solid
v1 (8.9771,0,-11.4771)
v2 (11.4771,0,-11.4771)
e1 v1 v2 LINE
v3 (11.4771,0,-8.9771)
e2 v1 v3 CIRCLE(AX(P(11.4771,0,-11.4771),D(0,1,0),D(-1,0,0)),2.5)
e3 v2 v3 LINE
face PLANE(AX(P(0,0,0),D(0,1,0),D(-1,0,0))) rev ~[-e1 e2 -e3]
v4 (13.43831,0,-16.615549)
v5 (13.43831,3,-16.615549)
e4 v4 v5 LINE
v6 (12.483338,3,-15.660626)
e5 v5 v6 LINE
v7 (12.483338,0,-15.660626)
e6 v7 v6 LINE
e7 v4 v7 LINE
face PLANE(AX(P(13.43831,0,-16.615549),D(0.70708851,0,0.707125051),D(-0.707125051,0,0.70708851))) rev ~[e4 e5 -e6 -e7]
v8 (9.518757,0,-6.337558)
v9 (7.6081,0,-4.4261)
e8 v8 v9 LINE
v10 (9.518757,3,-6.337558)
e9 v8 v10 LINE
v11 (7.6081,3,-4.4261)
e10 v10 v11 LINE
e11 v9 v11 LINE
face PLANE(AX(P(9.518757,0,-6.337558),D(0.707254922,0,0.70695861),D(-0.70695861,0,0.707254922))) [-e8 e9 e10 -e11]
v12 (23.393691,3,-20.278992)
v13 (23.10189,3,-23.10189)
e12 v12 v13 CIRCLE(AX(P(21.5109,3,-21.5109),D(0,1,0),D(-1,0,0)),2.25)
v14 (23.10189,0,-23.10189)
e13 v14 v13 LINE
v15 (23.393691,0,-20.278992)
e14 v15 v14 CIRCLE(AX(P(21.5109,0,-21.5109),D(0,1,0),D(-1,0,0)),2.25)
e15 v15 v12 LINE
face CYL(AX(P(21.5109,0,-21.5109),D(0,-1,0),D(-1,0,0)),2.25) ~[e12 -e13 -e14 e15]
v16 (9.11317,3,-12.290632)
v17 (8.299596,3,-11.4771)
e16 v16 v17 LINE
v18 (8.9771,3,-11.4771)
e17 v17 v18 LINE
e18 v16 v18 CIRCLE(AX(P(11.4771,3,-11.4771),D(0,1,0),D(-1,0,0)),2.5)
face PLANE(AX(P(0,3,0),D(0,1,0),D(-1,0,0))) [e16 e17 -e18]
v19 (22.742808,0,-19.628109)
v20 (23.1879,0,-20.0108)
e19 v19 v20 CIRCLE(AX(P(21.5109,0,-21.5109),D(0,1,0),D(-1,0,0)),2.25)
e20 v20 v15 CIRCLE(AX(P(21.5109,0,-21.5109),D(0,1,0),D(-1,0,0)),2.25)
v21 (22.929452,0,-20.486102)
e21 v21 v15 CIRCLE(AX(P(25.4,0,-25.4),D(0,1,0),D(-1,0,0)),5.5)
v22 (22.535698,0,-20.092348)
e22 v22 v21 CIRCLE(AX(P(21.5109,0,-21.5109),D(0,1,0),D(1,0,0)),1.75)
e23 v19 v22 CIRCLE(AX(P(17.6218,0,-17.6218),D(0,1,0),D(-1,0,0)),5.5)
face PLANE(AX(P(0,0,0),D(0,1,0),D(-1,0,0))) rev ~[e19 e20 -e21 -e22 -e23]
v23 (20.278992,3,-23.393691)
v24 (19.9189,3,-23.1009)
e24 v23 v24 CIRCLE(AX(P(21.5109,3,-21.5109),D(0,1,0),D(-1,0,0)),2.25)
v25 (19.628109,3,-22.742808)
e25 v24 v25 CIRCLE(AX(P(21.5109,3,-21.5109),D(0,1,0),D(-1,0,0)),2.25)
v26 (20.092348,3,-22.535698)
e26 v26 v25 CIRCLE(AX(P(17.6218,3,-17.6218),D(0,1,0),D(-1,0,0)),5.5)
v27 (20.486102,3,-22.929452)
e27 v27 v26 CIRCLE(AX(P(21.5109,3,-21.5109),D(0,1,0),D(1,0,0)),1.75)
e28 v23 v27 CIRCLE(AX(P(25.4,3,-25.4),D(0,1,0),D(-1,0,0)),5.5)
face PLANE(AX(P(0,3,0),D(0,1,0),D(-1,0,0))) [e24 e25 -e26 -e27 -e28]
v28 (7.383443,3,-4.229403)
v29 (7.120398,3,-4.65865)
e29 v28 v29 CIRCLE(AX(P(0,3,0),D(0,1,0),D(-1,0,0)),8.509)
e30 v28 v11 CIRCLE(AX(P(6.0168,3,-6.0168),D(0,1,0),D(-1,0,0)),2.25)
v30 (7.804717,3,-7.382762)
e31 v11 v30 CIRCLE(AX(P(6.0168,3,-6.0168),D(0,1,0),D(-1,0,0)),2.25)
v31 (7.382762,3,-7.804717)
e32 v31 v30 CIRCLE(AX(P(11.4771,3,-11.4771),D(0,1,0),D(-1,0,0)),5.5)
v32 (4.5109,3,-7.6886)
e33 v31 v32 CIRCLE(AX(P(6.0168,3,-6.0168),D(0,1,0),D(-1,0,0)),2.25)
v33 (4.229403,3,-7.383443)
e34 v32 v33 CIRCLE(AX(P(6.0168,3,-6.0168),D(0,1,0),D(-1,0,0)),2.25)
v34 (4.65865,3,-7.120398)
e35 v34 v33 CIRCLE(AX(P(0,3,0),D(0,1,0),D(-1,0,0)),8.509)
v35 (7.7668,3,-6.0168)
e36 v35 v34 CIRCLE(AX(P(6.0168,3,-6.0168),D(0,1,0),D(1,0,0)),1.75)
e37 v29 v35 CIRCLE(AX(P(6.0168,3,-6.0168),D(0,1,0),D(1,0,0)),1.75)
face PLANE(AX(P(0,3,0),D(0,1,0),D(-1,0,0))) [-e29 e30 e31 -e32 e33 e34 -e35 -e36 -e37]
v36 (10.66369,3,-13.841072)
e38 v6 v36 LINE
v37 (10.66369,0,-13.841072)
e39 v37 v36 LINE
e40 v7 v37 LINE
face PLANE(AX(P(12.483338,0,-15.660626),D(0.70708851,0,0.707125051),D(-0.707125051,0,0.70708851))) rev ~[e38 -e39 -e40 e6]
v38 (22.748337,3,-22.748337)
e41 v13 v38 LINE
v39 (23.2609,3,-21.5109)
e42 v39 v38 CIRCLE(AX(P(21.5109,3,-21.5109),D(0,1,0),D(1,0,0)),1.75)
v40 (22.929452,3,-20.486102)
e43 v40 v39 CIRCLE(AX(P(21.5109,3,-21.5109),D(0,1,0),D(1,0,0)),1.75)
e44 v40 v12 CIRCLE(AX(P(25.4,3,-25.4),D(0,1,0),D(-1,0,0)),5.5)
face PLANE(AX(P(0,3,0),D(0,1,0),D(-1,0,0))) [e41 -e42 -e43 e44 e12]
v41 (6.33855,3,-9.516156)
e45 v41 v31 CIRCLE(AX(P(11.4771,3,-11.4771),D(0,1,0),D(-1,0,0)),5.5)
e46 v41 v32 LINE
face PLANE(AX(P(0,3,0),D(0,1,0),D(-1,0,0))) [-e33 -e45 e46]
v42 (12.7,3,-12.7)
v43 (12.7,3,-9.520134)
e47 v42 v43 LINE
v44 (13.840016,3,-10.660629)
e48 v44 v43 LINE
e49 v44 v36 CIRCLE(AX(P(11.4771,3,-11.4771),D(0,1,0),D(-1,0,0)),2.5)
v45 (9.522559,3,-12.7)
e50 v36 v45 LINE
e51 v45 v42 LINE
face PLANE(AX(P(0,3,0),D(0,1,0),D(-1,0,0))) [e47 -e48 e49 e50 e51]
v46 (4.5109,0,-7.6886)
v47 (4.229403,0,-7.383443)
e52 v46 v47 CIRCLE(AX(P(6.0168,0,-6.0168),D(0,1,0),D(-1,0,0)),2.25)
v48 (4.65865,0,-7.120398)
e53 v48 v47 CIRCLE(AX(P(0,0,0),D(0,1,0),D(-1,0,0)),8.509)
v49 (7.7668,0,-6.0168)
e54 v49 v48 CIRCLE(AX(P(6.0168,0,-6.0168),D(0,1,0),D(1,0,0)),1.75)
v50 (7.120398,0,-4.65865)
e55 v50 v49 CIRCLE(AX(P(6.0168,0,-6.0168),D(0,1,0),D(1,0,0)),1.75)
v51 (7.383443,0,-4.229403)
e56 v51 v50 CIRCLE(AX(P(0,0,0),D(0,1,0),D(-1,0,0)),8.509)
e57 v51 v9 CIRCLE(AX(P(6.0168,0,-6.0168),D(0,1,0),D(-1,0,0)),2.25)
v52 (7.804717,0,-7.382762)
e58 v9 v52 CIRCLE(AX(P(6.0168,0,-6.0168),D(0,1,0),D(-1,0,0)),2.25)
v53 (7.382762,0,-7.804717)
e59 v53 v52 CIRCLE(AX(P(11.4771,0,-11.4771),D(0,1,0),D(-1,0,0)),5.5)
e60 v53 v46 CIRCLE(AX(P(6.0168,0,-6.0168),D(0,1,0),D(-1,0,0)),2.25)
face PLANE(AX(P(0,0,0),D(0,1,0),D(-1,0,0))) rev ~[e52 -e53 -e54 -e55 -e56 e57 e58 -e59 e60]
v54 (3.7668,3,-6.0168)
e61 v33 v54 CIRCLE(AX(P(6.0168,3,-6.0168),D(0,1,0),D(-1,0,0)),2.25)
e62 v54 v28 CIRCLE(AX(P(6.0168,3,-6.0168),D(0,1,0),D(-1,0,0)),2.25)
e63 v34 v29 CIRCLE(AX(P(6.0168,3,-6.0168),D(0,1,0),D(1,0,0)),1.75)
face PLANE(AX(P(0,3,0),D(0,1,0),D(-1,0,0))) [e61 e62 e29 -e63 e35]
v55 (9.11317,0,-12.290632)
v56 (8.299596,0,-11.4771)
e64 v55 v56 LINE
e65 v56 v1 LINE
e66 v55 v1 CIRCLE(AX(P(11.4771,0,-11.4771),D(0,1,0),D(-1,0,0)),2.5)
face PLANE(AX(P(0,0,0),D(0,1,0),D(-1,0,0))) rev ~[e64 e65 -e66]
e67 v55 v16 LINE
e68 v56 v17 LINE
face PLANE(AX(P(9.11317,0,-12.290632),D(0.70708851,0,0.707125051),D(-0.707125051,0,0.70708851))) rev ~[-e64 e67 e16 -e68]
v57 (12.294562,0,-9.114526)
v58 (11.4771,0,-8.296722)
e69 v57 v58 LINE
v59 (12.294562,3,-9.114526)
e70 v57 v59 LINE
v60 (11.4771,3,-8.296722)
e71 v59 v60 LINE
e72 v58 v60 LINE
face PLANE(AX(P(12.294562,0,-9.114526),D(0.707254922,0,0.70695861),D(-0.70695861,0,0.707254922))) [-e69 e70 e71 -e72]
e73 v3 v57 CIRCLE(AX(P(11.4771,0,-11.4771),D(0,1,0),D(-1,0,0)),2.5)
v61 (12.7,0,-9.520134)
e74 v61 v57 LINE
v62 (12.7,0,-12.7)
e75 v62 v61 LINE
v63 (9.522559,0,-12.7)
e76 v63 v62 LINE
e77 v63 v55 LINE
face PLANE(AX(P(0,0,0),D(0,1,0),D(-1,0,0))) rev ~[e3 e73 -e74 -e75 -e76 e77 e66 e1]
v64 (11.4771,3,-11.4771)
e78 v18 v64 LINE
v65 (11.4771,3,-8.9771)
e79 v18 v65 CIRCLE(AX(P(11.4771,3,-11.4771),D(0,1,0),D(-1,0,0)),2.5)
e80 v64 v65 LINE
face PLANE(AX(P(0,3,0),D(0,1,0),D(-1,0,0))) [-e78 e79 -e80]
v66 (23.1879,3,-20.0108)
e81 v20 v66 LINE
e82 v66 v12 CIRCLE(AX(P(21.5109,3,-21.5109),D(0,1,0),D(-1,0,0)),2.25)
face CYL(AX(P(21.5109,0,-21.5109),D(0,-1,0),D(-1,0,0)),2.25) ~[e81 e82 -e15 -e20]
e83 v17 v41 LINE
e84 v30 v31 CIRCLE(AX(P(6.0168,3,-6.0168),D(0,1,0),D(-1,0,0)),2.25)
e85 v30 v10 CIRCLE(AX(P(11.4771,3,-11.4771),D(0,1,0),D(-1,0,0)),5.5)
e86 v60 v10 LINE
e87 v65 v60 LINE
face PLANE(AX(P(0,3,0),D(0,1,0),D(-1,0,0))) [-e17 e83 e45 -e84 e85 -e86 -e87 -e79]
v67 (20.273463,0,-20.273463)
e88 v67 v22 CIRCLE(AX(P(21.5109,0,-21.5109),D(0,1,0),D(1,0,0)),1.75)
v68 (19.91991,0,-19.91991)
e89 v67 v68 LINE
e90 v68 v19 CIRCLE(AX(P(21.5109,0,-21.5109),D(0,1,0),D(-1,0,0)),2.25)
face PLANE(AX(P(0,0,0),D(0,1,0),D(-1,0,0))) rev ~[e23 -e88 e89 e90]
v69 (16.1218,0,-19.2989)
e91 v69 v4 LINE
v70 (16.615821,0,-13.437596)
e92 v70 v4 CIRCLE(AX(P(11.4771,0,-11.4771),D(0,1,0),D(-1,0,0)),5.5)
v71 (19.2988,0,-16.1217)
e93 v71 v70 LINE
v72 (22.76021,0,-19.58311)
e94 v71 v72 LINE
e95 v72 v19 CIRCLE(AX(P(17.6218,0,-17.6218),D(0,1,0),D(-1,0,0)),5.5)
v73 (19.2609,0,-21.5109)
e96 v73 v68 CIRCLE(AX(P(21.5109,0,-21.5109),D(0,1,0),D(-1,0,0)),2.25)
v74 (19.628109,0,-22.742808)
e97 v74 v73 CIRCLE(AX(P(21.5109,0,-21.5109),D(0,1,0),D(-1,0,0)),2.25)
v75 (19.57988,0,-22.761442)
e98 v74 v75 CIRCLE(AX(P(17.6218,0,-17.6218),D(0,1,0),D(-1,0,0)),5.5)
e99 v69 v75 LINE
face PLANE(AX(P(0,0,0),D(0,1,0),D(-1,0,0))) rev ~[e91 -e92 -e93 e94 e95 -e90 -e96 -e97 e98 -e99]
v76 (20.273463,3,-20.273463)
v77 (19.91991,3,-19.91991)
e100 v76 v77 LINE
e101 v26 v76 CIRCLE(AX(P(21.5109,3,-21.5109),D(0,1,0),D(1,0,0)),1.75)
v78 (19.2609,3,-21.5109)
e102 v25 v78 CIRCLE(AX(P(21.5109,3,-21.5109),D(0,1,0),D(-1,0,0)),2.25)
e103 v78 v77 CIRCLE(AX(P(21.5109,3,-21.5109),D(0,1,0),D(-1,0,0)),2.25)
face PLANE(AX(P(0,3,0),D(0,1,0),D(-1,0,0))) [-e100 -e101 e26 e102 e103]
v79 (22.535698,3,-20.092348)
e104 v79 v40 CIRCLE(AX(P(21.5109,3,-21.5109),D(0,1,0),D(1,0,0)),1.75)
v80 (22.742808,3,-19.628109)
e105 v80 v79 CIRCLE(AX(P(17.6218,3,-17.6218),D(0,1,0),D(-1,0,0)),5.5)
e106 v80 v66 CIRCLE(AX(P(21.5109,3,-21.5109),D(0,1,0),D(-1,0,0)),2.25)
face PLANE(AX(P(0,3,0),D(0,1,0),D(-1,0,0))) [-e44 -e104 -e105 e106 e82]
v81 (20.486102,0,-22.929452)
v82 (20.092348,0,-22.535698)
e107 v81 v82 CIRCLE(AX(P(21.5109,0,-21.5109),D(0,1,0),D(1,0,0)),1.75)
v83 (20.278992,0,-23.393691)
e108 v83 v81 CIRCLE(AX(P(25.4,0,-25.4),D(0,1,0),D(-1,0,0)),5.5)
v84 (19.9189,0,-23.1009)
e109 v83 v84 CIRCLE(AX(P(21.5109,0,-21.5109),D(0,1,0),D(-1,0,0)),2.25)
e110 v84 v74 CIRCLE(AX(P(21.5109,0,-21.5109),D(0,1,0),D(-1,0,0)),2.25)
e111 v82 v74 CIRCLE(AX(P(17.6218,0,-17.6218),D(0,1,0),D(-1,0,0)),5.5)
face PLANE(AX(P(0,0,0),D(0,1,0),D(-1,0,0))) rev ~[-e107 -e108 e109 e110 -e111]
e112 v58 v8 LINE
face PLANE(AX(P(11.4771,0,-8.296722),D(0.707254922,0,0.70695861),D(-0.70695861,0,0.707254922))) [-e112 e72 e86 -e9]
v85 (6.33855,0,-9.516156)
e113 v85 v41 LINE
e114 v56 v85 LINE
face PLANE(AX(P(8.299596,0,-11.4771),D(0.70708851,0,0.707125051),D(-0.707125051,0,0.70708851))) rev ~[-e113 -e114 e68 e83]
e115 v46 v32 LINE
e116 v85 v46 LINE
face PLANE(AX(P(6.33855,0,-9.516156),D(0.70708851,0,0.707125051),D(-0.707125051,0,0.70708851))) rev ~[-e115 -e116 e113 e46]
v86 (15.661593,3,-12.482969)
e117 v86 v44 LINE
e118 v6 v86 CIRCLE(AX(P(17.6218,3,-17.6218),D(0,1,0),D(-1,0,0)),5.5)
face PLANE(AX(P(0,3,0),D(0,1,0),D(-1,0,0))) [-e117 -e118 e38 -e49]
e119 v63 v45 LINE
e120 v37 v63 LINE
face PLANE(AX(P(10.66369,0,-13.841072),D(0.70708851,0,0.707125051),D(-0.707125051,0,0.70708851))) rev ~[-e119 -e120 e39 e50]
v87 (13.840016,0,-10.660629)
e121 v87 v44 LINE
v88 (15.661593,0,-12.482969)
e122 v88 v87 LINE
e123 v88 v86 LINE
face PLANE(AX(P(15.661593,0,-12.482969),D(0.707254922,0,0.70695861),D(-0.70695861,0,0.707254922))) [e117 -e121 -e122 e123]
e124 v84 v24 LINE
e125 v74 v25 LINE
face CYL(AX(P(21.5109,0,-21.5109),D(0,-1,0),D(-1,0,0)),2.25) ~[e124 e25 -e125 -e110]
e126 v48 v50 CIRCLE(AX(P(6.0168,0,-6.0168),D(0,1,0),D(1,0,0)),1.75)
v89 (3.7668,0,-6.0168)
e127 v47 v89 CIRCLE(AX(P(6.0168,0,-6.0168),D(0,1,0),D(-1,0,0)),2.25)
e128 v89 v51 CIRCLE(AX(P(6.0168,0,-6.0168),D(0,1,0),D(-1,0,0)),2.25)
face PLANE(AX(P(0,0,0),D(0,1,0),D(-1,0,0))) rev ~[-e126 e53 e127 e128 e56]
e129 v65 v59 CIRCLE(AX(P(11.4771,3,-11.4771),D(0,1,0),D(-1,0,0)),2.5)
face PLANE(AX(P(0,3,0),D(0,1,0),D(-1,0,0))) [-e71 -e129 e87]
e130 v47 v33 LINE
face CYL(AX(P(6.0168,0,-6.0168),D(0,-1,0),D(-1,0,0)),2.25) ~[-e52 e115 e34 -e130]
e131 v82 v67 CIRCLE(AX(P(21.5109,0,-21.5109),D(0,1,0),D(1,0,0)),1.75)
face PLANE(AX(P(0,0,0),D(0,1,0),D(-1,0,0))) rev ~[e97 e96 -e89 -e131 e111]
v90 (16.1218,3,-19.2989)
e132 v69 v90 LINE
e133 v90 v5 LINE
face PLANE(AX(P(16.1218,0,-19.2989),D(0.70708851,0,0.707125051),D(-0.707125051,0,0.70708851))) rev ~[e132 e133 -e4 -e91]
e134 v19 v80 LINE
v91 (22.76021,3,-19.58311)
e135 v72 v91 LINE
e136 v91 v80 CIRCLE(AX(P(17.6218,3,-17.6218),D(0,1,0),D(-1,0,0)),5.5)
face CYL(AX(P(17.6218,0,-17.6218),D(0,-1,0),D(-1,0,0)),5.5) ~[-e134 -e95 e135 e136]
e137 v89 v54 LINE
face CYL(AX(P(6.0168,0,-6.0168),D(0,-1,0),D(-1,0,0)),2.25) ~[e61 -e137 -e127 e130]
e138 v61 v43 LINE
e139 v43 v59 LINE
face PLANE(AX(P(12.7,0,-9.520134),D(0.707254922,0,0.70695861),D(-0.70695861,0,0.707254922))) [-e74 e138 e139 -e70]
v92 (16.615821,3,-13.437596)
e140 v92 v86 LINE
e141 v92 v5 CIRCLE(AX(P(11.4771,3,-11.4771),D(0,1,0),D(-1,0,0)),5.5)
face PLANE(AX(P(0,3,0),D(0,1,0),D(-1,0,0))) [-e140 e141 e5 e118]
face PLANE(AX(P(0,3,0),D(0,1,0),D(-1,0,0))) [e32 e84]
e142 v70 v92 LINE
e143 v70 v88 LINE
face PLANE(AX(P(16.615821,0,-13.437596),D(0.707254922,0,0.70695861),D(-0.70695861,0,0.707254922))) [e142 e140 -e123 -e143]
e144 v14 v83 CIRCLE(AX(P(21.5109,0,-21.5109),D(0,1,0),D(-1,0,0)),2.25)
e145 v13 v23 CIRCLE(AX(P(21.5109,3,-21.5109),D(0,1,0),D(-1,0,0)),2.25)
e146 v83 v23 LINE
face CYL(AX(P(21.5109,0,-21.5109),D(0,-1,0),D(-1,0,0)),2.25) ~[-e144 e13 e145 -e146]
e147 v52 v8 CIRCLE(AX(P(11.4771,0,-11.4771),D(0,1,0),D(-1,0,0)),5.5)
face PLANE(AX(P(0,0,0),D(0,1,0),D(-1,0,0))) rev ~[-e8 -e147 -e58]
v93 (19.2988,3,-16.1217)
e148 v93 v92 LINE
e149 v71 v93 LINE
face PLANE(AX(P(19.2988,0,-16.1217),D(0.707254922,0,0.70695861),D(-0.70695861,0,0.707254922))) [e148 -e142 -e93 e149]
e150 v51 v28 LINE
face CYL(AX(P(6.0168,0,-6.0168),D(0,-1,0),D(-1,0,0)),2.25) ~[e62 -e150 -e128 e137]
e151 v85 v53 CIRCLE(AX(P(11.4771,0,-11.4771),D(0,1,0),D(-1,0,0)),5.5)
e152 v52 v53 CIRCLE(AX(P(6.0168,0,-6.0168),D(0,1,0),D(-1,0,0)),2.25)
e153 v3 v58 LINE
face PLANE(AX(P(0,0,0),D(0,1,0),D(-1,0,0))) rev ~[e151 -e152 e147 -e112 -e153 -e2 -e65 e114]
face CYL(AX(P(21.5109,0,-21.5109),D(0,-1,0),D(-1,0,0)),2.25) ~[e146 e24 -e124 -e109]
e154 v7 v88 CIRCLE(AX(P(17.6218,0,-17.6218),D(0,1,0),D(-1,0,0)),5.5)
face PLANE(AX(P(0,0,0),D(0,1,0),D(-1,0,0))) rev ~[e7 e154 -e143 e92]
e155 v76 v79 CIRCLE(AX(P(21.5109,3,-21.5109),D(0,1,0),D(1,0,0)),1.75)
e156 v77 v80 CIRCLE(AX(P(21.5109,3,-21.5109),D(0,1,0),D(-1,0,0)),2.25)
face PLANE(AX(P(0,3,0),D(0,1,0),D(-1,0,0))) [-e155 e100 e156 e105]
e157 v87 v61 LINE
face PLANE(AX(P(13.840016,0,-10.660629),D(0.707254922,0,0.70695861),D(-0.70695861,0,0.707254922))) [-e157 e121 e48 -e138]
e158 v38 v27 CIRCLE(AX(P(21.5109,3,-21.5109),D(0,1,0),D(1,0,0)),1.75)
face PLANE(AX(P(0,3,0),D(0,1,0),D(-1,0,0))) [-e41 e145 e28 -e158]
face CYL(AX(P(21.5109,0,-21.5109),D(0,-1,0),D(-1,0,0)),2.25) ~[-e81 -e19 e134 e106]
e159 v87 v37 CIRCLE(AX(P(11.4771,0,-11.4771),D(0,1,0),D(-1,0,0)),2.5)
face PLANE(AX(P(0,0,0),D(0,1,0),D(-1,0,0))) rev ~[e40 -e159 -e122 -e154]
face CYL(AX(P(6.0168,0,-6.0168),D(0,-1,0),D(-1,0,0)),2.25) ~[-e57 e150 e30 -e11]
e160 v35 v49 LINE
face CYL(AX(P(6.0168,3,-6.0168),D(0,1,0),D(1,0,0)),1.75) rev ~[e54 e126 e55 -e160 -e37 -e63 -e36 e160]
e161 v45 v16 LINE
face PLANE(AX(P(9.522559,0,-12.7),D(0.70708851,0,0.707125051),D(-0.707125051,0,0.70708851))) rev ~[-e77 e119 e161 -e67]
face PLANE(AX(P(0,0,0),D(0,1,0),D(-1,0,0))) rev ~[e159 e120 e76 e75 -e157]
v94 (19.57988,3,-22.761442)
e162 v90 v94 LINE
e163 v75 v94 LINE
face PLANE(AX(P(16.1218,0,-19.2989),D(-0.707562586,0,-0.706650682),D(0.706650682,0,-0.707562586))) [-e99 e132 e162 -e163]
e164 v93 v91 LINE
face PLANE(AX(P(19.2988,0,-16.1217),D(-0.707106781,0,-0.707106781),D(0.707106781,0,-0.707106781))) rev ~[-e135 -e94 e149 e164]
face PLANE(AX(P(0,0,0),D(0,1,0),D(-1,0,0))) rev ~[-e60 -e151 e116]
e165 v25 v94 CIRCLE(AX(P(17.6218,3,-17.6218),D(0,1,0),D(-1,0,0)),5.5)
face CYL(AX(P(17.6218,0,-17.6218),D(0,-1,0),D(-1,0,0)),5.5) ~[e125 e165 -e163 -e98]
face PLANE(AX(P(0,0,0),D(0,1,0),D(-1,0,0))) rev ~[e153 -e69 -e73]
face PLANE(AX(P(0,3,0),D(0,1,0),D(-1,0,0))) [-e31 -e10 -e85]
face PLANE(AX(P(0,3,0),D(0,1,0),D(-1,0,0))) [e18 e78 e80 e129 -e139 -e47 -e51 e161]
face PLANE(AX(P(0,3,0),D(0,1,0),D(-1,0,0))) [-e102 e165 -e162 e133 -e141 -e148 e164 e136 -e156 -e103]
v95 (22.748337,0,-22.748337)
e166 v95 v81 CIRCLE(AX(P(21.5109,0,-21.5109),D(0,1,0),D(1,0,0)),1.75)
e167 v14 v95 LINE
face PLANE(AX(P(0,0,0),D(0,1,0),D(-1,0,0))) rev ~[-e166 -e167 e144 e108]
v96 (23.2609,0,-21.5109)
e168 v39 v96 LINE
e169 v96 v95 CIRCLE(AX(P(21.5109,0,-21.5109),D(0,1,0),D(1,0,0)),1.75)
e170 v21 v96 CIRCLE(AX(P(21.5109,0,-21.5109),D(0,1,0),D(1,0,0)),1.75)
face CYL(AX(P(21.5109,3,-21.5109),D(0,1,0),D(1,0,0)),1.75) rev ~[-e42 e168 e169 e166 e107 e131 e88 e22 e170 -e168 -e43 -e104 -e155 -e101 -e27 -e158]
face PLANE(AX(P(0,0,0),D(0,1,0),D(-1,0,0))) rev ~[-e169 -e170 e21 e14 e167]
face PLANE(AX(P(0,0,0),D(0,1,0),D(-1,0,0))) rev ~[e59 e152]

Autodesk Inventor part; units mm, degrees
ref_plane "YZ Plane" through (0, 0, 0) normal (1, 0, 0) x (0, 1, 0)
ref_plane "XZ Plane" through (0, 0, 0) normal (0, 1, 0) x (-1, 0, 0)
ref_plane "XY Plane" through (0, 0, 0) normal (0, 0, 1) x (1, 0, 0)
sketch "Sketch1" plane through (0, 0, 0) normal (0, 1, 0) x (-1, 0, 0)
  circle A0 centre (-0.0319, -8.4999) radius 1.5
  circle A1 centre (8.4996, 0.0794) radius 1.5
  circle A2 centre (-8.4996, 0.0788) radius 1.5
  circle A3 centre (-0.0313, 8.4999) radius 1.5
  line L0 (-12.7, 12.7) -> (12.7, 12.7)
  line L1 (12.7, 12.7) -> (12.7, -12.7)
  line L2 (12.7, -12.7) -> (-12.7, -12.7)
  line L3 (-12.7, -12.7) -> (-12.7, 12.7)
  line L4 (-12.7, 12.7) -> (12.7, -12.7) construction
  line L5 (12.7, 12.7) -> (-12.7, -12.7) construction
  line L6 (-11.4771, 11.4771) -> (11.4771, 11.4771)
  line L7 (11.4771, 11.4771) -> (11.4771, -11.4771)
  line L8 (11.4771, -11.4771) -> (-11.4771, -11.4771)
  line L9 (-11.4771, -11.4771) -> (-11.4771, 11.4771)
  line L10 (-11.4771, 11.4771) -> (11.4771, -11.4771) construction
  line L11 (11.4771, 11.4771) -> (-11.4771, -11.4771) construction
  line L12 (-25.4, -25.4) -> (25.4, -25.4)
  line L13 (25.4, -25.4) -> (25.4, 25.4)
  line L14 (25.4, 25.4) -> (-25.4, 25.4)
  line L15 (-25.4, 25.4) -> (-25.4, -25.4)
  line L16 (-25.4, -25.4) -> (25.4, 25.4) construction
  line L17 (25.4, -25.4) -> (-25.4, 25.4) construction
  circle A4 centre (0, 0) radius 5.5
  circle A5 centre (11.4771, 11.4771) radius 5.5
  circle A6 centre (11.4771, -11.4771) radius 5.5
  circle A7 centre (-11.4771, 11.4771) radius 5.5
  circle A8 centre (-11.4771, -11.4771) radius 5.5
  circle A9 centre (-25.4, 25.4) radius 5.5
  circle A10 centre (25.4, 25.4) radius 5.5
  circle A11 centre (25.4, -25.4) radius 5.5
  circle A12 centre (-25.4, -25.4) radius 5.5
  line L18 (7.588, 15.3662) -> (21.5109, 29.2891)
  line L19 (29.2891, 21.5109) -> (15.3662, 7.588)
  line L20 (15.3662, -7.588) -> (29.2891, -21.5109)
  line L21 (-7.588, -15.3662) -> (-21.5109, -29.2891)
  line L22 (-29.2891, 21.5109) -> (-15.3662, 7.588)
  line L23 (7.588, -15.3662) -> (21.5109, -29.2891)
  line L24 (-15.3365, -7.5586) -> (-29.2595, -21.4815)
  line L25 (-7.6475, 15.4248) -> (-21.5108, 29.289)
  line L26 (-35, -35) -> (35, -35)
  line L27 (35, -35) -> (35, 35)
  line L28 (35, 35) -> (-35, 35)
  line L29 (-35, 35) -> (-35, -35)
  line L30 (-35, -35) -> (35, 35) construction
  line L31 (35, -35) -> (-35, 35) construction
  circle A13 centre (11.4771, 11.4771) radius 2.5
  circle A14 centre (25.4, 25.4) radius 2.5
  line L32 (27.1678, 23.6322) -> (13.2448, 9.7093)
  line L33 (23.6682, 27.203) -> (9.7093, 13.2449)
  line L34 (0, 0) -> (0, 35)
  line L35 (35, 0) -> (0, 0)
  line L36 (-27.1678, 23.6322) -> (-13.2448, 9.7093)
  circle A15 centre (-25.4, 25.4) radius 2.5
  line L37 (-23.6682, 27.203) -> (-9.7093, 13.2449)
  circle A16 centre (-11.4771, 11.4771) radius 2.5
  circle A17 centre (25.4, -25.4) radius 2.5
  line L38 (23.6682, -27.203) -> (9.7093, -13.2449)
  line L39 (27.1678, -23.6322) -> (13.2448, -9.7093)
  circle A18 centre (11.4771, -11.4771) radius 2.5
  circle A19 centre (-11.4771, -11.4771) radius 2.5
  line L40 (-23.6682, -27.203) -> (-9.7093, -13.2449)
  line L41 (-27.1678, -23.6322) -> (-13.2448, -9.7093)
  line L42 (25.4, 25.4) -> (-25.4, -25.4) construction
  circle A20 centre (-25.4, -25.4) radius 2.5
  circle A21 centre (0, 0) radius 8.509
  circle A22 centre (-6.0168, -6.0168) radius 1.5
  line L43 (-25.4, -25.4) -> (-17.6218, -17.6218)
  circle A23 centre (-17.6218, -17.6218) radius 5.5
  circle A24 centre (-6.0168, -6.0168) radius 2.25
  line L44 (-16.1218, -19.2989) -> (-4.5109, -7.6886)
  line L45 (-19.2988, -16.1217) -> (-7.6081, -4.4261)
  circle A25 centre (-21.5109, -21.5109) radius 1.5
  circle A26 centre (-21.5109, -21.5109) radius 2.25
  line L46 (-19.2988, -16.1217) -> (-23.1879, -20.0108)
  line L47 (-16.1218, -19.2989) -> (-19.9189, -23.1009)
  point P0 (-22.7602, -19.5832)
  point P1 (-22.7428, -19.6281)
  point P2 (-23.011, -19.8339)
  point P3 (-19.6281, -22.7428)
  point P4 (-19.5799, -22.7615)
  dimension "d24" = 17.018
  dimension "d0" = 8.5
  dimension "d1" = 8.5
  dimension "d2" = 8.5
  dimension "d3" = 8.5
  dimension "d4" = 3
  dimension "d5" = 3
  dimension "d6" = 3
  dimension "d7" = 3
  dimension "d8" = 25.4
  dimension "d9" = 25.4
  dimension "d10" = 50.8
  dimension "d11" = 50.8
  dimension "d12" = 11
  dimension "d13" = 11
  dimension "d14" = 11
  dimension "d15" = 11
  dimension "d16" = 11
  dimension "d17" = 11
  dimension "d18" = 11
  dimension "d19" = 11
  dimension "d20" = 11
  dimension "d21" = 70
  dimension "d22" = 5
  dimension "d23" = 5
  dimension "d25" = 3
  dimension "d26" = 11
  dimension "d28" = 4.5
  dimension "d33" = 3
  dimension "d34" = 4.5
extrude "Extrusion1" add sketch "Sketch1" along normal blind 3 contours A24 A8 A21 A22 | A21 A22 A24 | L44 A8 A24 | A24 A8 | A8 L44 L8 A19 L9 L45 A24 | A8 L45 A24 | L44 A19 L8 | A19 L44 L2 L3 L45 L9 L8 | L8 L9 A19 | L9 A19 L45 | L44 A19 L45 L3 L2 | L44 A23 L45 A19 | L44 A8 L45 A23 | L44 L47 A23 A26 L46 L45 A8 | A26 L43 A25 A12 | A12 A25 A23 A26 | A23 A25 L43 A26 | A26 A12 A25 L43 | A26 A23 A25 A12 | A26 L43 A25 A23
sketch "Sketch2" plane through (0, 3, 0) normal (0, 1, 0) x (1, 0, 0)
  circle A0 centre (6.0168, 6.0168) radius 1.5 projected
  circle A1 centre (21.5109, 21.5109) radius 1.5 projected
  circle A2 centre (6.0168, 6.0168) radius 1.75
  circle A3 centre (21.5109, 21.5109) radius 1.75
  point P0 (0, 0)
  dimension "d35" = 3.5
  dimension "d36" = 3.5
extrude "Extrusion2" cut sketch "Sketch2" against normal blind 10 contours A0 | A1 | A2 | A3
properties part number "link"
